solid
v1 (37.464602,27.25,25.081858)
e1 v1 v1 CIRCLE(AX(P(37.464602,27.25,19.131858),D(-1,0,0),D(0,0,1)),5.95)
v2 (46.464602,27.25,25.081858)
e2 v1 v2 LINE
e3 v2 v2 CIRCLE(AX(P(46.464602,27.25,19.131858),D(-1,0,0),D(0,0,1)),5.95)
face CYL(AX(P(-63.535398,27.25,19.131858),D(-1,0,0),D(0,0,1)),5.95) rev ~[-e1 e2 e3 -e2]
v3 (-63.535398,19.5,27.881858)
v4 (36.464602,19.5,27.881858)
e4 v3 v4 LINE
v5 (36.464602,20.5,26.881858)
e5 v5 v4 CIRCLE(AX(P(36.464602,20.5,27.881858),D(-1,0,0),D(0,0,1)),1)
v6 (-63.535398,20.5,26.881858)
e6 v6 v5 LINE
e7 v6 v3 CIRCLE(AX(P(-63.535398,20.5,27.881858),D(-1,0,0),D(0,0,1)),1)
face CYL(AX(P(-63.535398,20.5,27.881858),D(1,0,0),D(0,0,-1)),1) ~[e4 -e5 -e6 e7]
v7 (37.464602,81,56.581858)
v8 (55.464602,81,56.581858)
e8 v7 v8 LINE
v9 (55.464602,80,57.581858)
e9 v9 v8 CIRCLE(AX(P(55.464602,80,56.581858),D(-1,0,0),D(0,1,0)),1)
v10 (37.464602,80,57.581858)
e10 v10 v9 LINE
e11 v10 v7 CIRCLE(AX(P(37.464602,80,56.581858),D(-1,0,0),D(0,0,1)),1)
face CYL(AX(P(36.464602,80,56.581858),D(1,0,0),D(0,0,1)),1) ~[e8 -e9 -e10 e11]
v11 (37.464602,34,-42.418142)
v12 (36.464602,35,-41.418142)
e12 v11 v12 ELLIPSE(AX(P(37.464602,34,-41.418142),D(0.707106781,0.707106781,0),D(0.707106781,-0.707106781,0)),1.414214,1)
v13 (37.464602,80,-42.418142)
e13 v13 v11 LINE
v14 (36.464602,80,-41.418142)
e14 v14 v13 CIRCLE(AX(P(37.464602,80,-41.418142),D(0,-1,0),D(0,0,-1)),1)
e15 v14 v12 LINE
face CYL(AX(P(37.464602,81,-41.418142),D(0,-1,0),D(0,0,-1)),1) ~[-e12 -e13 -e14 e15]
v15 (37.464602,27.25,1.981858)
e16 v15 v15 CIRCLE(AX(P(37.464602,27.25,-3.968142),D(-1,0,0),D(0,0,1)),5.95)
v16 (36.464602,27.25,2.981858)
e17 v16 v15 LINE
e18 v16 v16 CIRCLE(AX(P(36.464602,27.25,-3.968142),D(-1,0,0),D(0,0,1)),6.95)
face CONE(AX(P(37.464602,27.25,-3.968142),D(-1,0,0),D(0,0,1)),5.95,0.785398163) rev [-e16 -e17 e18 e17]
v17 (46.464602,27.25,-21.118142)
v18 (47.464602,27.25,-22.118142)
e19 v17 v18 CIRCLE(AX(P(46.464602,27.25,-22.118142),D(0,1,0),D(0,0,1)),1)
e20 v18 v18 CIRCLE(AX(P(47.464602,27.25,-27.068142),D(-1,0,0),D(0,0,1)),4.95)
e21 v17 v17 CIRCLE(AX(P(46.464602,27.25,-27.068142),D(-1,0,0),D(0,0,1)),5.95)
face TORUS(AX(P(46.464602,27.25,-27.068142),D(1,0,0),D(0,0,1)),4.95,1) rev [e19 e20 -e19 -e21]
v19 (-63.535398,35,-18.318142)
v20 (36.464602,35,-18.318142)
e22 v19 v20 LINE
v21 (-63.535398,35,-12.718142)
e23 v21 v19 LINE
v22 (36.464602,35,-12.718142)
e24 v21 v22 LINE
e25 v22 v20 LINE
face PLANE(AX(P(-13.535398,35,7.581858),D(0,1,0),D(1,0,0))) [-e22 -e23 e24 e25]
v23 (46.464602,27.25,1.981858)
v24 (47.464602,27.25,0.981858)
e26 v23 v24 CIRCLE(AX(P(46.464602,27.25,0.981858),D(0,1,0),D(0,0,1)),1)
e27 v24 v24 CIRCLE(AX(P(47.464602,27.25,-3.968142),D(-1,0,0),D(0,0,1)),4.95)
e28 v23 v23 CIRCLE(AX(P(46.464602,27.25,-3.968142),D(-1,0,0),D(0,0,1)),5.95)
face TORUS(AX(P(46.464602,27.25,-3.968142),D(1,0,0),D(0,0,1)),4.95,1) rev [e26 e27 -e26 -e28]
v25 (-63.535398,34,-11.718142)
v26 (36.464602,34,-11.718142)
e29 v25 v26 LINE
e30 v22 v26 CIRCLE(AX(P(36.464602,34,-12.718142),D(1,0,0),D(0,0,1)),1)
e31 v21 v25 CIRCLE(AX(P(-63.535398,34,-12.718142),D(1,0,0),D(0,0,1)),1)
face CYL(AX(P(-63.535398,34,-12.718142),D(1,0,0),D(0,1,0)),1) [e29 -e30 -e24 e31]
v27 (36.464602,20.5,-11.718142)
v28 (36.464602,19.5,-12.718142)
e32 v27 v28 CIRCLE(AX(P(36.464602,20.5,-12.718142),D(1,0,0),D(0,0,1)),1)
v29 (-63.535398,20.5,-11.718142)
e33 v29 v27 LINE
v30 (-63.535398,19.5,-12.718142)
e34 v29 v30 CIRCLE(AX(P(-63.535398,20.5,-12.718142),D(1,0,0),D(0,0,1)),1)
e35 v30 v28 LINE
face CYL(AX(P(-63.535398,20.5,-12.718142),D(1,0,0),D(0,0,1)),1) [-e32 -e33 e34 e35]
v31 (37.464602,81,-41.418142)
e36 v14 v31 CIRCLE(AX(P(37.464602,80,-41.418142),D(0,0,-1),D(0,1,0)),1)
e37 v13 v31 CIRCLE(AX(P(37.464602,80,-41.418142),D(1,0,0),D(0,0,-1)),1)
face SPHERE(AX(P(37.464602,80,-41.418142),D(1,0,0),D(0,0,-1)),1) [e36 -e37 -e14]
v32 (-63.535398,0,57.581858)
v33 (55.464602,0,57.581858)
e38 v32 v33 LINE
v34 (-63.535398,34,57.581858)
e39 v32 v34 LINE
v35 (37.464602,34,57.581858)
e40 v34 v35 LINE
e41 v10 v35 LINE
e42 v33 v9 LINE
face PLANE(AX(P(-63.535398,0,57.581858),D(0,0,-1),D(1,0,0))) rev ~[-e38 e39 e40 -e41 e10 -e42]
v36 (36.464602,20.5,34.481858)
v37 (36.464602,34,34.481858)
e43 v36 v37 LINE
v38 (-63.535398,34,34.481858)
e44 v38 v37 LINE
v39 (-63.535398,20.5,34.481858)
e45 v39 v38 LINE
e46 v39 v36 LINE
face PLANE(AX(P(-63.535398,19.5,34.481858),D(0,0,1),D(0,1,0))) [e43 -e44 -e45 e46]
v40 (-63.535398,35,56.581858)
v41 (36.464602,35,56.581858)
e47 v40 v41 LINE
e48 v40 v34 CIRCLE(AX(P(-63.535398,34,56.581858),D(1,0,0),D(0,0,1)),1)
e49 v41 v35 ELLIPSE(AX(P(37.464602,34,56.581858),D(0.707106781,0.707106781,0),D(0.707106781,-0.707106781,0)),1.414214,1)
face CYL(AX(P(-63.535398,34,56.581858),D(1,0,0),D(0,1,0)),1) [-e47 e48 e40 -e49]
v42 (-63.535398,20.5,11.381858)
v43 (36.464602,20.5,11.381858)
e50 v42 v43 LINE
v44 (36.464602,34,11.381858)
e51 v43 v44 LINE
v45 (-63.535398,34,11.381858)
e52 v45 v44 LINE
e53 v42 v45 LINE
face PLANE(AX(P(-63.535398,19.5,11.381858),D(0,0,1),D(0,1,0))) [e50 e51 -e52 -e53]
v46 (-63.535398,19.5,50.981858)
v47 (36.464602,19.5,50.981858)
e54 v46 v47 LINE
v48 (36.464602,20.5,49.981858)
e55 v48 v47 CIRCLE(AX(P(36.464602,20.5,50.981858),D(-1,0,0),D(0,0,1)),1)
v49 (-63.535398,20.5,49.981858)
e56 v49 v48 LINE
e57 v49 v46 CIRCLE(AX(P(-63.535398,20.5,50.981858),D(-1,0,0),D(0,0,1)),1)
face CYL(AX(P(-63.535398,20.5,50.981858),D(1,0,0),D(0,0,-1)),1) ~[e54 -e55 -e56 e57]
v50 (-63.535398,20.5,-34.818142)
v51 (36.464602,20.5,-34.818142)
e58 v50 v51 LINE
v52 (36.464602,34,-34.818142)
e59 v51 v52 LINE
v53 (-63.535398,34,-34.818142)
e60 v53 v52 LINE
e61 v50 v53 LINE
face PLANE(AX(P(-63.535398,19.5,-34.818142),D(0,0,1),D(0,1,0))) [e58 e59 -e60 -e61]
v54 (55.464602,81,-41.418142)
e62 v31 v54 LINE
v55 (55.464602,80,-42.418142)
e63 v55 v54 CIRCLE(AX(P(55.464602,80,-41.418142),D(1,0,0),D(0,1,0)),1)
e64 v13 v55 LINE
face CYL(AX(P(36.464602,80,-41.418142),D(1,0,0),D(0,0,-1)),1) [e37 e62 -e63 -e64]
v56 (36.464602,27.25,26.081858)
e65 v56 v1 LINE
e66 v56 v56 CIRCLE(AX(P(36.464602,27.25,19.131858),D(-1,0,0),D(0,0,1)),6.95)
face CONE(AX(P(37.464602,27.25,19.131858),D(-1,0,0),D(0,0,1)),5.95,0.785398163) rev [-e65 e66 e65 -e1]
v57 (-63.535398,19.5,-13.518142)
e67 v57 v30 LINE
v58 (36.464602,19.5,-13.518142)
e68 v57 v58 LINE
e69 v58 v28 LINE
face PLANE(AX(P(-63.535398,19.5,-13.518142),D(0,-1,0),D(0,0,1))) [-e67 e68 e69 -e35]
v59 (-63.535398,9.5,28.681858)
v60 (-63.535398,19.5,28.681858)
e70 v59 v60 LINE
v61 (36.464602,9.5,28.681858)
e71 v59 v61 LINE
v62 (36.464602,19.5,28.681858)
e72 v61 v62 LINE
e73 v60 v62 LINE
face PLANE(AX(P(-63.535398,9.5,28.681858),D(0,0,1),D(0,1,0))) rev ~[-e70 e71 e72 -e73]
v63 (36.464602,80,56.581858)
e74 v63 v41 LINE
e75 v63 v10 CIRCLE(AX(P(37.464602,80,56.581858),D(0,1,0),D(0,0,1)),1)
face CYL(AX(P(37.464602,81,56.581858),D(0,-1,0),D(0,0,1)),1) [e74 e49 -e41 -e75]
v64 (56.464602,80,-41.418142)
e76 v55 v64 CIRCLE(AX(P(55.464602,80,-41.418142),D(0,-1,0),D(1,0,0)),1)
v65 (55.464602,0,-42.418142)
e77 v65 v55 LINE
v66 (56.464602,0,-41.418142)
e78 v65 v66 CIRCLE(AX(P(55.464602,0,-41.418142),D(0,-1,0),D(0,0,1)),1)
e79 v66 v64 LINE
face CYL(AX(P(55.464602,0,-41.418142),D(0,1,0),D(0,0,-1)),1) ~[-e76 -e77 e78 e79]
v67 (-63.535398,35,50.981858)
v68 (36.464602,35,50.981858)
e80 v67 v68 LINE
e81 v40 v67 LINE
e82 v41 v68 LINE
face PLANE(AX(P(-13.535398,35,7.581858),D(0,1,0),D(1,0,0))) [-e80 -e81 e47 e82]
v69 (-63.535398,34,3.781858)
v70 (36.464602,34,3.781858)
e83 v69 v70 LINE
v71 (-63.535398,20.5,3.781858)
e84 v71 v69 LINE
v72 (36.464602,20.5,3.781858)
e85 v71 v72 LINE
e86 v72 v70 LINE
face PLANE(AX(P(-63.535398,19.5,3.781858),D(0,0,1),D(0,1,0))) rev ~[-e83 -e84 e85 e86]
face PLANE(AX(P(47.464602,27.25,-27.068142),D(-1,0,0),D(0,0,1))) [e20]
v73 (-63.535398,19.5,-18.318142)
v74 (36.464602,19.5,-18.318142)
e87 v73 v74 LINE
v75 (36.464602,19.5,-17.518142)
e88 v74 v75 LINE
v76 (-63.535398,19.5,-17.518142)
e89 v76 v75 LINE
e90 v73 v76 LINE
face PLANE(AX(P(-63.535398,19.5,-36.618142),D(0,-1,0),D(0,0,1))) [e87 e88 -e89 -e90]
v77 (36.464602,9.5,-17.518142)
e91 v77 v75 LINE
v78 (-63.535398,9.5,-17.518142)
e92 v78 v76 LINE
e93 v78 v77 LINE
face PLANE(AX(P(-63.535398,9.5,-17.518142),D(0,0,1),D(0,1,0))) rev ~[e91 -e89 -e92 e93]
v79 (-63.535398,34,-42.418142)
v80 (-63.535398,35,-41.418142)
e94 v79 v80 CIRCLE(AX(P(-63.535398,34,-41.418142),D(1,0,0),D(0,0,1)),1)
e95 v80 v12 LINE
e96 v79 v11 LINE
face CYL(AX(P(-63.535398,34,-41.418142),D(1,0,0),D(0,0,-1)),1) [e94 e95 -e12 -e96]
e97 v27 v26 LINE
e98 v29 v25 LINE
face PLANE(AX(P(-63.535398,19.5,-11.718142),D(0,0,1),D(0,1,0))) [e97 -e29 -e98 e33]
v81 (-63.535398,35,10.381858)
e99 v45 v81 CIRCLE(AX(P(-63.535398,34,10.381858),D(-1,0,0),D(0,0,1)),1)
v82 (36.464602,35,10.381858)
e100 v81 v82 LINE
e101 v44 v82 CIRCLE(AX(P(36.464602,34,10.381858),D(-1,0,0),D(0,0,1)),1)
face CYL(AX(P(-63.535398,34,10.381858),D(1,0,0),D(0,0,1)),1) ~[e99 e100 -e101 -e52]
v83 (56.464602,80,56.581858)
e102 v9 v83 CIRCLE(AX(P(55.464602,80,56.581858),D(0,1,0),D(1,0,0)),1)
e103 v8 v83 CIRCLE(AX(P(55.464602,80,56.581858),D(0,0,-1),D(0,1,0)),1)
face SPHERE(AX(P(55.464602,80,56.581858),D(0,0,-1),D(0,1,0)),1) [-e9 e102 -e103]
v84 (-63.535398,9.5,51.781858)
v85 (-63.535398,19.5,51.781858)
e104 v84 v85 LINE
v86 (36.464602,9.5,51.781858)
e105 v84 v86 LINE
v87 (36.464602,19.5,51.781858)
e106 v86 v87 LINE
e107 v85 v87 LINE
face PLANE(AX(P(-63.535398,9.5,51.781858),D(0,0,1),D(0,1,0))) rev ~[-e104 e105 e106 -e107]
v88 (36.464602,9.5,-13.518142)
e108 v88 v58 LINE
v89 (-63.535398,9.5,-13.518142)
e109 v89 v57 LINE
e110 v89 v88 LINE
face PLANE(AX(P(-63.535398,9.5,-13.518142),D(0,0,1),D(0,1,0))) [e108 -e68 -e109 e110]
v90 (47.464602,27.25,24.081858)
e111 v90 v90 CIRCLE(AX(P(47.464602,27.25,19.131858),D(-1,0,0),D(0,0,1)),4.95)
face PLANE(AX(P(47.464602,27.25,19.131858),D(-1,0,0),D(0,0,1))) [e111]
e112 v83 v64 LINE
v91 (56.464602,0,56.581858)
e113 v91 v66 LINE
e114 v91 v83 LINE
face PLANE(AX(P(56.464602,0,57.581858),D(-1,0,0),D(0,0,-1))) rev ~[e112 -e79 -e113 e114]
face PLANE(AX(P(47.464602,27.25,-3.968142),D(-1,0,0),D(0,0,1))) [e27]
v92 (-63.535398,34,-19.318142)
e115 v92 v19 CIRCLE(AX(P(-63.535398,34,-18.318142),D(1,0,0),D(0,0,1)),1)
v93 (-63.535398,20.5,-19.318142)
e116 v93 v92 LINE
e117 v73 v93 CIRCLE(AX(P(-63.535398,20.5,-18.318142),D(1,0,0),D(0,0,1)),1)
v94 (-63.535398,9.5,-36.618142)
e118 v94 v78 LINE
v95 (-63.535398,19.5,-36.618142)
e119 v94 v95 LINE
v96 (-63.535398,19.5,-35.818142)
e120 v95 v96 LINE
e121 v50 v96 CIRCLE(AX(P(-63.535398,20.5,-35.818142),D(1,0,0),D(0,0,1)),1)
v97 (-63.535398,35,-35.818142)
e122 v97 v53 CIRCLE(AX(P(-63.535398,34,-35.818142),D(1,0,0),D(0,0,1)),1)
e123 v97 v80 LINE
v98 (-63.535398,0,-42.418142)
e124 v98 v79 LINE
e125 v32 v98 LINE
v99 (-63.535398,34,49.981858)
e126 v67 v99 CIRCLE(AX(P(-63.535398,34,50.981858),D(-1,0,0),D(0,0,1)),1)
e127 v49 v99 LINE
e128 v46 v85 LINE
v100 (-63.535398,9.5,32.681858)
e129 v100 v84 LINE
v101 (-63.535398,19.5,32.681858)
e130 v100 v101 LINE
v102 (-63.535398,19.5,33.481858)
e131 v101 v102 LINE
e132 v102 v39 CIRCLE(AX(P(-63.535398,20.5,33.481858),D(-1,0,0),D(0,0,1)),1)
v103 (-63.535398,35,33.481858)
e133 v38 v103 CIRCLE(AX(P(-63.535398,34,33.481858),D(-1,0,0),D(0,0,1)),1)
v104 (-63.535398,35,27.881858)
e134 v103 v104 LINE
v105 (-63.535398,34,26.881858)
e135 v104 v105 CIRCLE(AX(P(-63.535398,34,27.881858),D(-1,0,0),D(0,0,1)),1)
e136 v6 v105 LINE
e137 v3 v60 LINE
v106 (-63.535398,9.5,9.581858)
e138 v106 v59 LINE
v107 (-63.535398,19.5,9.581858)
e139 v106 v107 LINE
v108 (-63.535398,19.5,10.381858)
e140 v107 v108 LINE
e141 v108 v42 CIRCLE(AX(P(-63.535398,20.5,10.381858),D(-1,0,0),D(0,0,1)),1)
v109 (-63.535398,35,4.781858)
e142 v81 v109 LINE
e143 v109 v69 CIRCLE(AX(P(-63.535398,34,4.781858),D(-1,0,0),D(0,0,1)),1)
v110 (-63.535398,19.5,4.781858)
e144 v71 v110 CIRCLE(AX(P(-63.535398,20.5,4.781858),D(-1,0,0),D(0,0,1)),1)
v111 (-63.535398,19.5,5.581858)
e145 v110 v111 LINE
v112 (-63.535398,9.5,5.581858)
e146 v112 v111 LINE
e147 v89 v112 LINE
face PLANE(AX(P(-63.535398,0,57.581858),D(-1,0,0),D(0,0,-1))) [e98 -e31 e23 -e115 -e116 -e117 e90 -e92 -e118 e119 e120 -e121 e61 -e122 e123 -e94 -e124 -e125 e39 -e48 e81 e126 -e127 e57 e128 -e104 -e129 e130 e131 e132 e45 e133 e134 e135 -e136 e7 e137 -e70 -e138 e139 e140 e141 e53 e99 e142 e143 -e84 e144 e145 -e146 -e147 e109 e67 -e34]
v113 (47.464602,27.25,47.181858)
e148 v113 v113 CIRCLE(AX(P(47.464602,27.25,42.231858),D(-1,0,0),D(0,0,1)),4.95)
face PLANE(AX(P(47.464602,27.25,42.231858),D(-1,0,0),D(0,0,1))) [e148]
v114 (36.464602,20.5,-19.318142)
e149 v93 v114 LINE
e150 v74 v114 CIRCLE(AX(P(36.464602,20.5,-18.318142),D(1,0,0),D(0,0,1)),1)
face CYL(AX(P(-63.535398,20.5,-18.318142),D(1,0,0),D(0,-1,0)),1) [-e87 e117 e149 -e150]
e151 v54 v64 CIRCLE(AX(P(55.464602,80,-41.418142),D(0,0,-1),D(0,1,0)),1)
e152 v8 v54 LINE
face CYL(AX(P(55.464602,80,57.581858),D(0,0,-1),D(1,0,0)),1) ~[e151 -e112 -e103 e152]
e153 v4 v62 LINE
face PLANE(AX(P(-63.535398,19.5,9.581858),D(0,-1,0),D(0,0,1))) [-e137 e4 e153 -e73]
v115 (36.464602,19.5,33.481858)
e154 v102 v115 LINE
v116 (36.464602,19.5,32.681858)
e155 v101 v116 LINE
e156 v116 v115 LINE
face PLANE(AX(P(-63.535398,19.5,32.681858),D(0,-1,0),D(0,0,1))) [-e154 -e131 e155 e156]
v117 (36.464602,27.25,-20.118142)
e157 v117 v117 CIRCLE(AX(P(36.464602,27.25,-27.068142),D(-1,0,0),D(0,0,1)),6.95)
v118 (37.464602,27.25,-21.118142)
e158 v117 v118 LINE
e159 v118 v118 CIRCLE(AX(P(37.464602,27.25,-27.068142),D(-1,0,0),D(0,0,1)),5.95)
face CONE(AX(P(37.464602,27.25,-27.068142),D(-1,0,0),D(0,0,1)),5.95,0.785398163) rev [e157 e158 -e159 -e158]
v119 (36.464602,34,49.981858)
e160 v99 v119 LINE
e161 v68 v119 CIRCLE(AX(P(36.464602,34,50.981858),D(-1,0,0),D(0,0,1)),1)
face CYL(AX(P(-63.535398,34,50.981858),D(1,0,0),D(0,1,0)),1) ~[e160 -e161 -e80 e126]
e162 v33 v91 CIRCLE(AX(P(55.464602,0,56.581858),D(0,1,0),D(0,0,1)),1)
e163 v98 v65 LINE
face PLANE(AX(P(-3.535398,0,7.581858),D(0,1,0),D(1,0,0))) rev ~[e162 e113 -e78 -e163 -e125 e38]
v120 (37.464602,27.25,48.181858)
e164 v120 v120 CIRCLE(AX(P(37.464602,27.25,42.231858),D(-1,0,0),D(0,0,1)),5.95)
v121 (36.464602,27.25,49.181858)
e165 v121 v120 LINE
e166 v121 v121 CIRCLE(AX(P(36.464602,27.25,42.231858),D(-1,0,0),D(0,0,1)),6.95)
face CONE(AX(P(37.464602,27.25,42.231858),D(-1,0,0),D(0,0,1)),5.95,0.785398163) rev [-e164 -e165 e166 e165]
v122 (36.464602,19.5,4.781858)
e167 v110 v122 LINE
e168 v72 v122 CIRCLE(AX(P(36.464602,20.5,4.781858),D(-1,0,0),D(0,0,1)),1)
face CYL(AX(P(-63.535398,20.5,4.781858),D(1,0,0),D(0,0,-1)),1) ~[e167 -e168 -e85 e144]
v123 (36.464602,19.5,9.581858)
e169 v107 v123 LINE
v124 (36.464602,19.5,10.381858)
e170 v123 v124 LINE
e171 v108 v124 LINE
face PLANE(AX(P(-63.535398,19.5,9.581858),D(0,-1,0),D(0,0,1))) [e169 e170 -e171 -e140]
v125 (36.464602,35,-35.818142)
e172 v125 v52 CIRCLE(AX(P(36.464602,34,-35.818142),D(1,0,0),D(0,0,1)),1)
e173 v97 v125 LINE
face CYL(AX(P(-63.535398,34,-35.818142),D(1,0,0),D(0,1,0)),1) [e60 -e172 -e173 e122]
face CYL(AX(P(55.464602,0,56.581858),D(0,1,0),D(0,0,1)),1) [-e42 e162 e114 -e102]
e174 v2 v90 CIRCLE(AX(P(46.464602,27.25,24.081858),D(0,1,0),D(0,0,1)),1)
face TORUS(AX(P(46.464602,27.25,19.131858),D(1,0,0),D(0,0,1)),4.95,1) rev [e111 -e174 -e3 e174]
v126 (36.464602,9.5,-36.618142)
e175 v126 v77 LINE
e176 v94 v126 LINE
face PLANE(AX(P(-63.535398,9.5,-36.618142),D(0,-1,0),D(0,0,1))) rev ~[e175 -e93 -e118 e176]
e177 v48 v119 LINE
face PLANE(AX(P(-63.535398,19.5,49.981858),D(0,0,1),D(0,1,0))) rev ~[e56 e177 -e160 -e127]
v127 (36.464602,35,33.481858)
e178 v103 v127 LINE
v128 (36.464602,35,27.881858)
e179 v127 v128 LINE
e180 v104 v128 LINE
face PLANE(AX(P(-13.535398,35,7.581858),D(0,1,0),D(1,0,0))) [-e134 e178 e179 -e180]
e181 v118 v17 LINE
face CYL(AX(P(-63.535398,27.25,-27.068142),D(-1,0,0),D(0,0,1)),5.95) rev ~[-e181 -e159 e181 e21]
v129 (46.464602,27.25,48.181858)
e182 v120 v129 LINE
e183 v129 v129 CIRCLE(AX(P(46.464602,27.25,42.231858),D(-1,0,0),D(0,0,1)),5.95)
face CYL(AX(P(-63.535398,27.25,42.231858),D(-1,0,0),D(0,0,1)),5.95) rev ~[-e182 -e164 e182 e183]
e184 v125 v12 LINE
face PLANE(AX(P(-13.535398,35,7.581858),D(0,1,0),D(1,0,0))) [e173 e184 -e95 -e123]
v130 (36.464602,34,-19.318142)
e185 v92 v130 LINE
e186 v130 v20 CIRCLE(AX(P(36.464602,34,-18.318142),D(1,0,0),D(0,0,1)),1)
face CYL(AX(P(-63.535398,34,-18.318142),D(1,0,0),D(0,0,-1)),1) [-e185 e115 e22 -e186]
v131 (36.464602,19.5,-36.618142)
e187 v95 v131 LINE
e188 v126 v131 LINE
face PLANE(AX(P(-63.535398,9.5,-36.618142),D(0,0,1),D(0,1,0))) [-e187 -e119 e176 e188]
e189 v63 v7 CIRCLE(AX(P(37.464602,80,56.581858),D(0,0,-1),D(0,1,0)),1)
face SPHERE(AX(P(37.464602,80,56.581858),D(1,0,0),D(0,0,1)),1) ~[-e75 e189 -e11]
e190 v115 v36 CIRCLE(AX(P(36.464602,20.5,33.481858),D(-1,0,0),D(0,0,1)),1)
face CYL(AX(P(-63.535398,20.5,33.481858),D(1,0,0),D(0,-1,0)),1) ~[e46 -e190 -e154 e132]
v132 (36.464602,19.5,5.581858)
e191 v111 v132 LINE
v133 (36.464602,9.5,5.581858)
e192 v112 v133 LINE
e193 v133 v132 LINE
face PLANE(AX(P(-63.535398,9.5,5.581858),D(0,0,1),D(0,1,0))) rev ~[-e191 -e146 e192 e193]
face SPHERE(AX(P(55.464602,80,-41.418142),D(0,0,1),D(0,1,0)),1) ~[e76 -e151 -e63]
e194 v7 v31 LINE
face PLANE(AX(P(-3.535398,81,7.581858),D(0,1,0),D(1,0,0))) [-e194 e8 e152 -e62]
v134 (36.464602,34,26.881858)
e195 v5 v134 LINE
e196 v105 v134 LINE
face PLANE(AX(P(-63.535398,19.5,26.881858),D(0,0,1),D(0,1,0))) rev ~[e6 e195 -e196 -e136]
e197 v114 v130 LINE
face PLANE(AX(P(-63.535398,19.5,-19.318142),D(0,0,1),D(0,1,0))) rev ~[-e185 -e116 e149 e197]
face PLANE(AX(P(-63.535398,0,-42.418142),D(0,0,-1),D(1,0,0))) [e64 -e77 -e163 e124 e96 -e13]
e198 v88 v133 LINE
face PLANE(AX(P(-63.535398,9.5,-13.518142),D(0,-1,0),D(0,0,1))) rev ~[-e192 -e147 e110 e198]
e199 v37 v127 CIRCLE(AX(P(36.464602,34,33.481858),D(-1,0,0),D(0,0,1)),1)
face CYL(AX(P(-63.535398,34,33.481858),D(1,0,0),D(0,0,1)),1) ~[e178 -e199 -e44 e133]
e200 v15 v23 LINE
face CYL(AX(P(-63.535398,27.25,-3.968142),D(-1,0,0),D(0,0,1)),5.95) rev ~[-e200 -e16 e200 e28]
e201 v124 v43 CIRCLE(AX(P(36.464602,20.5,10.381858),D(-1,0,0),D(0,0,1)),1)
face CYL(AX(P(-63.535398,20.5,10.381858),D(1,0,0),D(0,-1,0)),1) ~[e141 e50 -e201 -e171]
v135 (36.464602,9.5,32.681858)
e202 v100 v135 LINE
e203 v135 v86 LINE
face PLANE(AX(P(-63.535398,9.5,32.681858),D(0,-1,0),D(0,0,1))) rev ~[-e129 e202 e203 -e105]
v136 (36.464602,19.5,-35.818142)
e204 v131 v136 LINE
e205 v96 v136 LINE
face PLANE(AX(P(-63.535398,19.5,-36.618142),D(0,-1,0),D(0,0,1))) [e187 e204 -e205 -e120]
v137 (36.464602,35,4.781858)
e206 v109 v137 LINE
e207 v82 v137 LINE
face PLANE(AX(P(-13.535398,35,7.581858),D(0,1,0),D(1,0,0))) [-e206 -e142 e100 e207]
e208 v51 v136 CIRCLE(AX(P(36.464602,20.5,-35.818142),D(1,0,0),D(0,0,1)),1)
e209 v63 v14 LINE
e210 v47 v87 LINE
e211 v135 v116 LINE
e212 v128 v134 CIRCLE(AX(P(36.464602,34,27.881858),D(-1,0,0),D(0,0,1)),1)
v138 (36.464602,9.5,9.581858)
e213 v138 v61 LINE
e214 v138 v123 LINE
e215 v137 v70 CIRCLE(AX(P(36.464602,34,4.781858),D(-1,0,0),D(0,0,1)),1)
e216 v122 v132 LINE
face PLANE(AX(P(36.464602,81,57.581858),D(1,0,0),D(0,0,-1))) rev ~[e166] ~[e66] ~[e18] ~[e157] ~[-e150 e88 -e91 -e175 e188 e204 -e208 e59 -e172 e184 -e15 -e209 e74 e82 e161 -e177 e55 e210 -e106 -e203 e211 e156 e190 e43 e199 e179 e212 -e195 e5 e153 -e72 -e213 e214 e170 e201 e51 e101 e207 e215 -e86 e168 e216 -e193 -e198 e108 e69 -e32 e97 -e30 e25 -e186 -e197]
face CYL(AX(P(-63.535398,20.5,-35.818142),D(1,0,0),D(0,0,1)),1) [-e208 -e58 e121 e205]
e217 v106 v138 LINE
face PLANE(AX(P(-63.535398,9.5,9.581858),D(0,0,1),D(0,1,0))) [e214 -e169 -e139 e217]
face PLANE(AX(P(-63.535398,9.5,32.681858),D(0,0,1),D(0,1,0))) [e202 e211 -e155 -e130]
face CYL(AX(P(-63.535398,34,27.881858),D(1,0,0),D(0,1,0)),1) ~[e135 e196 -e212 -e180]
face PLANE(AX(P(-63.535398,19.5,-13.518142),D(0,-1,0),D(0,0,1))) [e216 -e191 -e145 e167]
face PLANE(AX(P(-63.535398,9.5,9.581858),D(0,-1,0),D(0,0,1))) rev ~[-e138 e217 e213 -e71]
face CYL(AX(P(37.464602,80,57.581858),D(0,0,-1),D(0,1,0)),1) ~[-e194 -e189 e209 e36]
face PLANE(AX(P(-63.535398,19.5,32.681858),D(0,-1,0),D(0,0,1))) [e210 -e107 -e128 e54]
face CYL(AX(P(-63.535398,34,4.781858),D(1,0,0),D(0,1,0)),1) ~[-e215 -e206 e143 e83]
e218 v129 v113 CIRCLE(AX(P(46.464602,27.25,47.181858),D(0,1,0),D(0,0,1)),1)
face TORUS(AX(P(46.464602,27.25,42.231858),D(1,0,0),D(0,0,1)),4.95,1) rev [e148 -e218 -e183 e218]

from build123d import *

# Parameters (mm, degrees)
SKETCH1_W           = 120
SKETCH1_H           = 100
BOSS_EXTRUDE1_DEPTH = 81
SKETCH2_W           = 100
SKETCH2_H           = 100
CUT_EXTRUDE1_DEPTH  = 46
SKETCH6_W           = 15.5
SKETCH6_H           = 15.5
CUT_EXTRUDE4_DEPTH  = 100
SKETCH8_W           = 19.1
SKETCH8_H           = 10
CUT_EXTRUDE5_DEPTH  = 100
SKETCH6_3_R         = 5.95
CUT_EXTRUDE6_DEPTH  = 111
FILLET1_R           = 1
CHAMFER1_SIZE       = 1
FILLET2_R           = 1
FILLET3_R           = 1


with BuildPart() as part:
    # Sketch1 → Boss-Extrude1 (new body)
    with BuildSketch(Plane(origin=(0, 0, 0), x_dir=(1, 0, 0), z_dir=(0, 1, 0))):
        with Locations((-3.53539823, -7.581858407)):
            Rectangle(SKETCH1_W, SKETCH1_H)
    extrude(amount=BOSS_EXTRUDE1_DEPTH)

    # Sketch2 → Cut-Extrude1 (cut)
    with BuildSketch(Plane(origin=(0, 81, 0), x_dir=(1, 0, 0), z_dir=(0, 1, 0))):
        with Locations((-13.53539823, -7.581858407)):
            Rectangle(SKETCH2_W, SKETCH2_H)
    extrude(amount=-CUT_EXTRUDE1_DEPTH, mode=Mode.SUBTRACT)

    # Sketch6 → Cut-Extrude4 (cut)
    with BuildSketch(Plane.ZY.offset(63.53539823)):
        with Locations((-27.068141593, 27.25)):
            Rectangle(SKETCH6_W, SKETCH6_H)
        with Locations((-3.968141593, 27.25)):
            Rectangle(SKETCH6_W, SKETCH6_H)
        with Locations((19.131858407, 27.25)):
            Rectangle(SKETCH6_W, SKETCH6_H)
        with Locations((42.231858407, 27.25)):
            Rectangle(SKETCH6_W, SKETCH6_H)
    extrude(amount=-CUT_EXTRUDE4_DEPTH, mode=Mode.SUBTRACT)

    # Sketch8 → Cut-Extrude5 (cut)
    with BuildSketch(Plane.ZY.offset(63.53539823)):
        with Locations((-27.068141593, 14.5)):
            Rectangle(SKETCH8_W, SKETCH8_H)
        with Locations((-3.968141593, 14.5)):
            Rectangle(SKETCH8_W, SKETCH8_H)
        with Locations((42.231858407, 14.5)):
            Rectangle(SKETCH8_W, SKETCH8_H)
        with Locations((19.131858407, 14.5)):
            Rectangle(SKETCH8_W, SKETCH8_H)
    extrude(amount=-CUT_EXTRUDE5_DEPTH, mode=Mode.SUBTRACT)

    # Sketch6<3> → Cut-Extrude6 (cut)
    with BuildSketch(Plane.ZY.offset(63.53539823)):
        with Locations((-27.068141593, 27.25)):
            Circle(SKETCH6_3_R)
        with Locations((-3.968141593, 27.25)):
            Circle(SKETCH6_3_R)
        with Locations((42.231858407, 27.25)):
            Circle(SKETCH6_3_R)
        with Locations((19.131858407, 27.25)):
            Circle(SKETCH6_3_R)
    extrude(amount=-CUT_EXTRUDE6_DEPTH, mode=Mode.SUBTRACT)

    # Fillet1
    fillet1_edges = [part.edges().sort_by_distance(p)[0] for p in [
        (56.46460177, 81, 7.581858407),
        (46.46460177, 81, 57.581858407),
        (46.46460177, 81, -42.418141593),
        (-13.53539823, 35, -42.418141593),
        (36.46460177, 58, -42.418141593),
        (-13.53539823, 35, 57.581858407),
        (36.46460177, 58, 57.581858407),
        (36.46460177, 81, 7.581858407),
        (56.46460177, 40.5, -42.418141593),
        (56.46460177, 40.5, 57.581858407),
    ]]
    fillet(fillet1_edges, radius=FILLET1_R)

    # Chamfer1
    chamfer1_edges = [part.edges().sort_by_distance(p)[0] for p in [
        (36.46460177, 27.25, -33.018141593),
        (36.46460177, 27.25, -9.918141593),
        (36.46460177, 27.25, 13.181858407),
        (36.46460177, 27.25, 36.281858407),
    ]]
    chamfer(chamfer1_edges, length=CHAMFER1_SIZE)

    # Fillet2
    fillet2_edges = [part.edges().sort_by_distance(p)[0] for p in [
        (47.46460177, 27.25, -33.018141593),
        (47.46460177, 27.25, -9.918141593),
        (47.46460177, 27.25, 13.181858407),
        (47.46460177, 27.25, 36.281858407),
    ]]
    fillet(fillet2_edges, radius=FILLET2_R)

    # Fillet3
    fillet3_edges = [part.edges().sort_by_distance(p)[0] for p in [
        (-13.53539823, 19.5, -19.318141593),
        (-13.53539823, 19.5, -34.818141593),
        (-13.53539823, 35, -34.818141593),
        (-13.53539823, 35, -19.318141593),
        (-13.53539823, 19.5, 3.781858407),
        (-13.53539823, 19.5, -11.718141593),
        (-13.53539823, 35, -11.718141593),
        (-13.53539823, 35, 3.781858407),
        (-13.53539823, 19.5, 49.981858407),
        (-13.53539823, 19.5, 34.481858407),
        (-13.53539823, 35, 34.481858407),
        (-13.53539823, 35, 49.981858407),
        (-13.53539823, 19.5, 26.881858407),
        (-13.53539823, 19.5, 11.381858407),
        (-13.53539823, 35, 11.381858407),
        (-13.53539823, 35, 26.881858407),
    ]]
    fillet(fillet3_edges, radius=FILLET3_R)


solid = part.part
